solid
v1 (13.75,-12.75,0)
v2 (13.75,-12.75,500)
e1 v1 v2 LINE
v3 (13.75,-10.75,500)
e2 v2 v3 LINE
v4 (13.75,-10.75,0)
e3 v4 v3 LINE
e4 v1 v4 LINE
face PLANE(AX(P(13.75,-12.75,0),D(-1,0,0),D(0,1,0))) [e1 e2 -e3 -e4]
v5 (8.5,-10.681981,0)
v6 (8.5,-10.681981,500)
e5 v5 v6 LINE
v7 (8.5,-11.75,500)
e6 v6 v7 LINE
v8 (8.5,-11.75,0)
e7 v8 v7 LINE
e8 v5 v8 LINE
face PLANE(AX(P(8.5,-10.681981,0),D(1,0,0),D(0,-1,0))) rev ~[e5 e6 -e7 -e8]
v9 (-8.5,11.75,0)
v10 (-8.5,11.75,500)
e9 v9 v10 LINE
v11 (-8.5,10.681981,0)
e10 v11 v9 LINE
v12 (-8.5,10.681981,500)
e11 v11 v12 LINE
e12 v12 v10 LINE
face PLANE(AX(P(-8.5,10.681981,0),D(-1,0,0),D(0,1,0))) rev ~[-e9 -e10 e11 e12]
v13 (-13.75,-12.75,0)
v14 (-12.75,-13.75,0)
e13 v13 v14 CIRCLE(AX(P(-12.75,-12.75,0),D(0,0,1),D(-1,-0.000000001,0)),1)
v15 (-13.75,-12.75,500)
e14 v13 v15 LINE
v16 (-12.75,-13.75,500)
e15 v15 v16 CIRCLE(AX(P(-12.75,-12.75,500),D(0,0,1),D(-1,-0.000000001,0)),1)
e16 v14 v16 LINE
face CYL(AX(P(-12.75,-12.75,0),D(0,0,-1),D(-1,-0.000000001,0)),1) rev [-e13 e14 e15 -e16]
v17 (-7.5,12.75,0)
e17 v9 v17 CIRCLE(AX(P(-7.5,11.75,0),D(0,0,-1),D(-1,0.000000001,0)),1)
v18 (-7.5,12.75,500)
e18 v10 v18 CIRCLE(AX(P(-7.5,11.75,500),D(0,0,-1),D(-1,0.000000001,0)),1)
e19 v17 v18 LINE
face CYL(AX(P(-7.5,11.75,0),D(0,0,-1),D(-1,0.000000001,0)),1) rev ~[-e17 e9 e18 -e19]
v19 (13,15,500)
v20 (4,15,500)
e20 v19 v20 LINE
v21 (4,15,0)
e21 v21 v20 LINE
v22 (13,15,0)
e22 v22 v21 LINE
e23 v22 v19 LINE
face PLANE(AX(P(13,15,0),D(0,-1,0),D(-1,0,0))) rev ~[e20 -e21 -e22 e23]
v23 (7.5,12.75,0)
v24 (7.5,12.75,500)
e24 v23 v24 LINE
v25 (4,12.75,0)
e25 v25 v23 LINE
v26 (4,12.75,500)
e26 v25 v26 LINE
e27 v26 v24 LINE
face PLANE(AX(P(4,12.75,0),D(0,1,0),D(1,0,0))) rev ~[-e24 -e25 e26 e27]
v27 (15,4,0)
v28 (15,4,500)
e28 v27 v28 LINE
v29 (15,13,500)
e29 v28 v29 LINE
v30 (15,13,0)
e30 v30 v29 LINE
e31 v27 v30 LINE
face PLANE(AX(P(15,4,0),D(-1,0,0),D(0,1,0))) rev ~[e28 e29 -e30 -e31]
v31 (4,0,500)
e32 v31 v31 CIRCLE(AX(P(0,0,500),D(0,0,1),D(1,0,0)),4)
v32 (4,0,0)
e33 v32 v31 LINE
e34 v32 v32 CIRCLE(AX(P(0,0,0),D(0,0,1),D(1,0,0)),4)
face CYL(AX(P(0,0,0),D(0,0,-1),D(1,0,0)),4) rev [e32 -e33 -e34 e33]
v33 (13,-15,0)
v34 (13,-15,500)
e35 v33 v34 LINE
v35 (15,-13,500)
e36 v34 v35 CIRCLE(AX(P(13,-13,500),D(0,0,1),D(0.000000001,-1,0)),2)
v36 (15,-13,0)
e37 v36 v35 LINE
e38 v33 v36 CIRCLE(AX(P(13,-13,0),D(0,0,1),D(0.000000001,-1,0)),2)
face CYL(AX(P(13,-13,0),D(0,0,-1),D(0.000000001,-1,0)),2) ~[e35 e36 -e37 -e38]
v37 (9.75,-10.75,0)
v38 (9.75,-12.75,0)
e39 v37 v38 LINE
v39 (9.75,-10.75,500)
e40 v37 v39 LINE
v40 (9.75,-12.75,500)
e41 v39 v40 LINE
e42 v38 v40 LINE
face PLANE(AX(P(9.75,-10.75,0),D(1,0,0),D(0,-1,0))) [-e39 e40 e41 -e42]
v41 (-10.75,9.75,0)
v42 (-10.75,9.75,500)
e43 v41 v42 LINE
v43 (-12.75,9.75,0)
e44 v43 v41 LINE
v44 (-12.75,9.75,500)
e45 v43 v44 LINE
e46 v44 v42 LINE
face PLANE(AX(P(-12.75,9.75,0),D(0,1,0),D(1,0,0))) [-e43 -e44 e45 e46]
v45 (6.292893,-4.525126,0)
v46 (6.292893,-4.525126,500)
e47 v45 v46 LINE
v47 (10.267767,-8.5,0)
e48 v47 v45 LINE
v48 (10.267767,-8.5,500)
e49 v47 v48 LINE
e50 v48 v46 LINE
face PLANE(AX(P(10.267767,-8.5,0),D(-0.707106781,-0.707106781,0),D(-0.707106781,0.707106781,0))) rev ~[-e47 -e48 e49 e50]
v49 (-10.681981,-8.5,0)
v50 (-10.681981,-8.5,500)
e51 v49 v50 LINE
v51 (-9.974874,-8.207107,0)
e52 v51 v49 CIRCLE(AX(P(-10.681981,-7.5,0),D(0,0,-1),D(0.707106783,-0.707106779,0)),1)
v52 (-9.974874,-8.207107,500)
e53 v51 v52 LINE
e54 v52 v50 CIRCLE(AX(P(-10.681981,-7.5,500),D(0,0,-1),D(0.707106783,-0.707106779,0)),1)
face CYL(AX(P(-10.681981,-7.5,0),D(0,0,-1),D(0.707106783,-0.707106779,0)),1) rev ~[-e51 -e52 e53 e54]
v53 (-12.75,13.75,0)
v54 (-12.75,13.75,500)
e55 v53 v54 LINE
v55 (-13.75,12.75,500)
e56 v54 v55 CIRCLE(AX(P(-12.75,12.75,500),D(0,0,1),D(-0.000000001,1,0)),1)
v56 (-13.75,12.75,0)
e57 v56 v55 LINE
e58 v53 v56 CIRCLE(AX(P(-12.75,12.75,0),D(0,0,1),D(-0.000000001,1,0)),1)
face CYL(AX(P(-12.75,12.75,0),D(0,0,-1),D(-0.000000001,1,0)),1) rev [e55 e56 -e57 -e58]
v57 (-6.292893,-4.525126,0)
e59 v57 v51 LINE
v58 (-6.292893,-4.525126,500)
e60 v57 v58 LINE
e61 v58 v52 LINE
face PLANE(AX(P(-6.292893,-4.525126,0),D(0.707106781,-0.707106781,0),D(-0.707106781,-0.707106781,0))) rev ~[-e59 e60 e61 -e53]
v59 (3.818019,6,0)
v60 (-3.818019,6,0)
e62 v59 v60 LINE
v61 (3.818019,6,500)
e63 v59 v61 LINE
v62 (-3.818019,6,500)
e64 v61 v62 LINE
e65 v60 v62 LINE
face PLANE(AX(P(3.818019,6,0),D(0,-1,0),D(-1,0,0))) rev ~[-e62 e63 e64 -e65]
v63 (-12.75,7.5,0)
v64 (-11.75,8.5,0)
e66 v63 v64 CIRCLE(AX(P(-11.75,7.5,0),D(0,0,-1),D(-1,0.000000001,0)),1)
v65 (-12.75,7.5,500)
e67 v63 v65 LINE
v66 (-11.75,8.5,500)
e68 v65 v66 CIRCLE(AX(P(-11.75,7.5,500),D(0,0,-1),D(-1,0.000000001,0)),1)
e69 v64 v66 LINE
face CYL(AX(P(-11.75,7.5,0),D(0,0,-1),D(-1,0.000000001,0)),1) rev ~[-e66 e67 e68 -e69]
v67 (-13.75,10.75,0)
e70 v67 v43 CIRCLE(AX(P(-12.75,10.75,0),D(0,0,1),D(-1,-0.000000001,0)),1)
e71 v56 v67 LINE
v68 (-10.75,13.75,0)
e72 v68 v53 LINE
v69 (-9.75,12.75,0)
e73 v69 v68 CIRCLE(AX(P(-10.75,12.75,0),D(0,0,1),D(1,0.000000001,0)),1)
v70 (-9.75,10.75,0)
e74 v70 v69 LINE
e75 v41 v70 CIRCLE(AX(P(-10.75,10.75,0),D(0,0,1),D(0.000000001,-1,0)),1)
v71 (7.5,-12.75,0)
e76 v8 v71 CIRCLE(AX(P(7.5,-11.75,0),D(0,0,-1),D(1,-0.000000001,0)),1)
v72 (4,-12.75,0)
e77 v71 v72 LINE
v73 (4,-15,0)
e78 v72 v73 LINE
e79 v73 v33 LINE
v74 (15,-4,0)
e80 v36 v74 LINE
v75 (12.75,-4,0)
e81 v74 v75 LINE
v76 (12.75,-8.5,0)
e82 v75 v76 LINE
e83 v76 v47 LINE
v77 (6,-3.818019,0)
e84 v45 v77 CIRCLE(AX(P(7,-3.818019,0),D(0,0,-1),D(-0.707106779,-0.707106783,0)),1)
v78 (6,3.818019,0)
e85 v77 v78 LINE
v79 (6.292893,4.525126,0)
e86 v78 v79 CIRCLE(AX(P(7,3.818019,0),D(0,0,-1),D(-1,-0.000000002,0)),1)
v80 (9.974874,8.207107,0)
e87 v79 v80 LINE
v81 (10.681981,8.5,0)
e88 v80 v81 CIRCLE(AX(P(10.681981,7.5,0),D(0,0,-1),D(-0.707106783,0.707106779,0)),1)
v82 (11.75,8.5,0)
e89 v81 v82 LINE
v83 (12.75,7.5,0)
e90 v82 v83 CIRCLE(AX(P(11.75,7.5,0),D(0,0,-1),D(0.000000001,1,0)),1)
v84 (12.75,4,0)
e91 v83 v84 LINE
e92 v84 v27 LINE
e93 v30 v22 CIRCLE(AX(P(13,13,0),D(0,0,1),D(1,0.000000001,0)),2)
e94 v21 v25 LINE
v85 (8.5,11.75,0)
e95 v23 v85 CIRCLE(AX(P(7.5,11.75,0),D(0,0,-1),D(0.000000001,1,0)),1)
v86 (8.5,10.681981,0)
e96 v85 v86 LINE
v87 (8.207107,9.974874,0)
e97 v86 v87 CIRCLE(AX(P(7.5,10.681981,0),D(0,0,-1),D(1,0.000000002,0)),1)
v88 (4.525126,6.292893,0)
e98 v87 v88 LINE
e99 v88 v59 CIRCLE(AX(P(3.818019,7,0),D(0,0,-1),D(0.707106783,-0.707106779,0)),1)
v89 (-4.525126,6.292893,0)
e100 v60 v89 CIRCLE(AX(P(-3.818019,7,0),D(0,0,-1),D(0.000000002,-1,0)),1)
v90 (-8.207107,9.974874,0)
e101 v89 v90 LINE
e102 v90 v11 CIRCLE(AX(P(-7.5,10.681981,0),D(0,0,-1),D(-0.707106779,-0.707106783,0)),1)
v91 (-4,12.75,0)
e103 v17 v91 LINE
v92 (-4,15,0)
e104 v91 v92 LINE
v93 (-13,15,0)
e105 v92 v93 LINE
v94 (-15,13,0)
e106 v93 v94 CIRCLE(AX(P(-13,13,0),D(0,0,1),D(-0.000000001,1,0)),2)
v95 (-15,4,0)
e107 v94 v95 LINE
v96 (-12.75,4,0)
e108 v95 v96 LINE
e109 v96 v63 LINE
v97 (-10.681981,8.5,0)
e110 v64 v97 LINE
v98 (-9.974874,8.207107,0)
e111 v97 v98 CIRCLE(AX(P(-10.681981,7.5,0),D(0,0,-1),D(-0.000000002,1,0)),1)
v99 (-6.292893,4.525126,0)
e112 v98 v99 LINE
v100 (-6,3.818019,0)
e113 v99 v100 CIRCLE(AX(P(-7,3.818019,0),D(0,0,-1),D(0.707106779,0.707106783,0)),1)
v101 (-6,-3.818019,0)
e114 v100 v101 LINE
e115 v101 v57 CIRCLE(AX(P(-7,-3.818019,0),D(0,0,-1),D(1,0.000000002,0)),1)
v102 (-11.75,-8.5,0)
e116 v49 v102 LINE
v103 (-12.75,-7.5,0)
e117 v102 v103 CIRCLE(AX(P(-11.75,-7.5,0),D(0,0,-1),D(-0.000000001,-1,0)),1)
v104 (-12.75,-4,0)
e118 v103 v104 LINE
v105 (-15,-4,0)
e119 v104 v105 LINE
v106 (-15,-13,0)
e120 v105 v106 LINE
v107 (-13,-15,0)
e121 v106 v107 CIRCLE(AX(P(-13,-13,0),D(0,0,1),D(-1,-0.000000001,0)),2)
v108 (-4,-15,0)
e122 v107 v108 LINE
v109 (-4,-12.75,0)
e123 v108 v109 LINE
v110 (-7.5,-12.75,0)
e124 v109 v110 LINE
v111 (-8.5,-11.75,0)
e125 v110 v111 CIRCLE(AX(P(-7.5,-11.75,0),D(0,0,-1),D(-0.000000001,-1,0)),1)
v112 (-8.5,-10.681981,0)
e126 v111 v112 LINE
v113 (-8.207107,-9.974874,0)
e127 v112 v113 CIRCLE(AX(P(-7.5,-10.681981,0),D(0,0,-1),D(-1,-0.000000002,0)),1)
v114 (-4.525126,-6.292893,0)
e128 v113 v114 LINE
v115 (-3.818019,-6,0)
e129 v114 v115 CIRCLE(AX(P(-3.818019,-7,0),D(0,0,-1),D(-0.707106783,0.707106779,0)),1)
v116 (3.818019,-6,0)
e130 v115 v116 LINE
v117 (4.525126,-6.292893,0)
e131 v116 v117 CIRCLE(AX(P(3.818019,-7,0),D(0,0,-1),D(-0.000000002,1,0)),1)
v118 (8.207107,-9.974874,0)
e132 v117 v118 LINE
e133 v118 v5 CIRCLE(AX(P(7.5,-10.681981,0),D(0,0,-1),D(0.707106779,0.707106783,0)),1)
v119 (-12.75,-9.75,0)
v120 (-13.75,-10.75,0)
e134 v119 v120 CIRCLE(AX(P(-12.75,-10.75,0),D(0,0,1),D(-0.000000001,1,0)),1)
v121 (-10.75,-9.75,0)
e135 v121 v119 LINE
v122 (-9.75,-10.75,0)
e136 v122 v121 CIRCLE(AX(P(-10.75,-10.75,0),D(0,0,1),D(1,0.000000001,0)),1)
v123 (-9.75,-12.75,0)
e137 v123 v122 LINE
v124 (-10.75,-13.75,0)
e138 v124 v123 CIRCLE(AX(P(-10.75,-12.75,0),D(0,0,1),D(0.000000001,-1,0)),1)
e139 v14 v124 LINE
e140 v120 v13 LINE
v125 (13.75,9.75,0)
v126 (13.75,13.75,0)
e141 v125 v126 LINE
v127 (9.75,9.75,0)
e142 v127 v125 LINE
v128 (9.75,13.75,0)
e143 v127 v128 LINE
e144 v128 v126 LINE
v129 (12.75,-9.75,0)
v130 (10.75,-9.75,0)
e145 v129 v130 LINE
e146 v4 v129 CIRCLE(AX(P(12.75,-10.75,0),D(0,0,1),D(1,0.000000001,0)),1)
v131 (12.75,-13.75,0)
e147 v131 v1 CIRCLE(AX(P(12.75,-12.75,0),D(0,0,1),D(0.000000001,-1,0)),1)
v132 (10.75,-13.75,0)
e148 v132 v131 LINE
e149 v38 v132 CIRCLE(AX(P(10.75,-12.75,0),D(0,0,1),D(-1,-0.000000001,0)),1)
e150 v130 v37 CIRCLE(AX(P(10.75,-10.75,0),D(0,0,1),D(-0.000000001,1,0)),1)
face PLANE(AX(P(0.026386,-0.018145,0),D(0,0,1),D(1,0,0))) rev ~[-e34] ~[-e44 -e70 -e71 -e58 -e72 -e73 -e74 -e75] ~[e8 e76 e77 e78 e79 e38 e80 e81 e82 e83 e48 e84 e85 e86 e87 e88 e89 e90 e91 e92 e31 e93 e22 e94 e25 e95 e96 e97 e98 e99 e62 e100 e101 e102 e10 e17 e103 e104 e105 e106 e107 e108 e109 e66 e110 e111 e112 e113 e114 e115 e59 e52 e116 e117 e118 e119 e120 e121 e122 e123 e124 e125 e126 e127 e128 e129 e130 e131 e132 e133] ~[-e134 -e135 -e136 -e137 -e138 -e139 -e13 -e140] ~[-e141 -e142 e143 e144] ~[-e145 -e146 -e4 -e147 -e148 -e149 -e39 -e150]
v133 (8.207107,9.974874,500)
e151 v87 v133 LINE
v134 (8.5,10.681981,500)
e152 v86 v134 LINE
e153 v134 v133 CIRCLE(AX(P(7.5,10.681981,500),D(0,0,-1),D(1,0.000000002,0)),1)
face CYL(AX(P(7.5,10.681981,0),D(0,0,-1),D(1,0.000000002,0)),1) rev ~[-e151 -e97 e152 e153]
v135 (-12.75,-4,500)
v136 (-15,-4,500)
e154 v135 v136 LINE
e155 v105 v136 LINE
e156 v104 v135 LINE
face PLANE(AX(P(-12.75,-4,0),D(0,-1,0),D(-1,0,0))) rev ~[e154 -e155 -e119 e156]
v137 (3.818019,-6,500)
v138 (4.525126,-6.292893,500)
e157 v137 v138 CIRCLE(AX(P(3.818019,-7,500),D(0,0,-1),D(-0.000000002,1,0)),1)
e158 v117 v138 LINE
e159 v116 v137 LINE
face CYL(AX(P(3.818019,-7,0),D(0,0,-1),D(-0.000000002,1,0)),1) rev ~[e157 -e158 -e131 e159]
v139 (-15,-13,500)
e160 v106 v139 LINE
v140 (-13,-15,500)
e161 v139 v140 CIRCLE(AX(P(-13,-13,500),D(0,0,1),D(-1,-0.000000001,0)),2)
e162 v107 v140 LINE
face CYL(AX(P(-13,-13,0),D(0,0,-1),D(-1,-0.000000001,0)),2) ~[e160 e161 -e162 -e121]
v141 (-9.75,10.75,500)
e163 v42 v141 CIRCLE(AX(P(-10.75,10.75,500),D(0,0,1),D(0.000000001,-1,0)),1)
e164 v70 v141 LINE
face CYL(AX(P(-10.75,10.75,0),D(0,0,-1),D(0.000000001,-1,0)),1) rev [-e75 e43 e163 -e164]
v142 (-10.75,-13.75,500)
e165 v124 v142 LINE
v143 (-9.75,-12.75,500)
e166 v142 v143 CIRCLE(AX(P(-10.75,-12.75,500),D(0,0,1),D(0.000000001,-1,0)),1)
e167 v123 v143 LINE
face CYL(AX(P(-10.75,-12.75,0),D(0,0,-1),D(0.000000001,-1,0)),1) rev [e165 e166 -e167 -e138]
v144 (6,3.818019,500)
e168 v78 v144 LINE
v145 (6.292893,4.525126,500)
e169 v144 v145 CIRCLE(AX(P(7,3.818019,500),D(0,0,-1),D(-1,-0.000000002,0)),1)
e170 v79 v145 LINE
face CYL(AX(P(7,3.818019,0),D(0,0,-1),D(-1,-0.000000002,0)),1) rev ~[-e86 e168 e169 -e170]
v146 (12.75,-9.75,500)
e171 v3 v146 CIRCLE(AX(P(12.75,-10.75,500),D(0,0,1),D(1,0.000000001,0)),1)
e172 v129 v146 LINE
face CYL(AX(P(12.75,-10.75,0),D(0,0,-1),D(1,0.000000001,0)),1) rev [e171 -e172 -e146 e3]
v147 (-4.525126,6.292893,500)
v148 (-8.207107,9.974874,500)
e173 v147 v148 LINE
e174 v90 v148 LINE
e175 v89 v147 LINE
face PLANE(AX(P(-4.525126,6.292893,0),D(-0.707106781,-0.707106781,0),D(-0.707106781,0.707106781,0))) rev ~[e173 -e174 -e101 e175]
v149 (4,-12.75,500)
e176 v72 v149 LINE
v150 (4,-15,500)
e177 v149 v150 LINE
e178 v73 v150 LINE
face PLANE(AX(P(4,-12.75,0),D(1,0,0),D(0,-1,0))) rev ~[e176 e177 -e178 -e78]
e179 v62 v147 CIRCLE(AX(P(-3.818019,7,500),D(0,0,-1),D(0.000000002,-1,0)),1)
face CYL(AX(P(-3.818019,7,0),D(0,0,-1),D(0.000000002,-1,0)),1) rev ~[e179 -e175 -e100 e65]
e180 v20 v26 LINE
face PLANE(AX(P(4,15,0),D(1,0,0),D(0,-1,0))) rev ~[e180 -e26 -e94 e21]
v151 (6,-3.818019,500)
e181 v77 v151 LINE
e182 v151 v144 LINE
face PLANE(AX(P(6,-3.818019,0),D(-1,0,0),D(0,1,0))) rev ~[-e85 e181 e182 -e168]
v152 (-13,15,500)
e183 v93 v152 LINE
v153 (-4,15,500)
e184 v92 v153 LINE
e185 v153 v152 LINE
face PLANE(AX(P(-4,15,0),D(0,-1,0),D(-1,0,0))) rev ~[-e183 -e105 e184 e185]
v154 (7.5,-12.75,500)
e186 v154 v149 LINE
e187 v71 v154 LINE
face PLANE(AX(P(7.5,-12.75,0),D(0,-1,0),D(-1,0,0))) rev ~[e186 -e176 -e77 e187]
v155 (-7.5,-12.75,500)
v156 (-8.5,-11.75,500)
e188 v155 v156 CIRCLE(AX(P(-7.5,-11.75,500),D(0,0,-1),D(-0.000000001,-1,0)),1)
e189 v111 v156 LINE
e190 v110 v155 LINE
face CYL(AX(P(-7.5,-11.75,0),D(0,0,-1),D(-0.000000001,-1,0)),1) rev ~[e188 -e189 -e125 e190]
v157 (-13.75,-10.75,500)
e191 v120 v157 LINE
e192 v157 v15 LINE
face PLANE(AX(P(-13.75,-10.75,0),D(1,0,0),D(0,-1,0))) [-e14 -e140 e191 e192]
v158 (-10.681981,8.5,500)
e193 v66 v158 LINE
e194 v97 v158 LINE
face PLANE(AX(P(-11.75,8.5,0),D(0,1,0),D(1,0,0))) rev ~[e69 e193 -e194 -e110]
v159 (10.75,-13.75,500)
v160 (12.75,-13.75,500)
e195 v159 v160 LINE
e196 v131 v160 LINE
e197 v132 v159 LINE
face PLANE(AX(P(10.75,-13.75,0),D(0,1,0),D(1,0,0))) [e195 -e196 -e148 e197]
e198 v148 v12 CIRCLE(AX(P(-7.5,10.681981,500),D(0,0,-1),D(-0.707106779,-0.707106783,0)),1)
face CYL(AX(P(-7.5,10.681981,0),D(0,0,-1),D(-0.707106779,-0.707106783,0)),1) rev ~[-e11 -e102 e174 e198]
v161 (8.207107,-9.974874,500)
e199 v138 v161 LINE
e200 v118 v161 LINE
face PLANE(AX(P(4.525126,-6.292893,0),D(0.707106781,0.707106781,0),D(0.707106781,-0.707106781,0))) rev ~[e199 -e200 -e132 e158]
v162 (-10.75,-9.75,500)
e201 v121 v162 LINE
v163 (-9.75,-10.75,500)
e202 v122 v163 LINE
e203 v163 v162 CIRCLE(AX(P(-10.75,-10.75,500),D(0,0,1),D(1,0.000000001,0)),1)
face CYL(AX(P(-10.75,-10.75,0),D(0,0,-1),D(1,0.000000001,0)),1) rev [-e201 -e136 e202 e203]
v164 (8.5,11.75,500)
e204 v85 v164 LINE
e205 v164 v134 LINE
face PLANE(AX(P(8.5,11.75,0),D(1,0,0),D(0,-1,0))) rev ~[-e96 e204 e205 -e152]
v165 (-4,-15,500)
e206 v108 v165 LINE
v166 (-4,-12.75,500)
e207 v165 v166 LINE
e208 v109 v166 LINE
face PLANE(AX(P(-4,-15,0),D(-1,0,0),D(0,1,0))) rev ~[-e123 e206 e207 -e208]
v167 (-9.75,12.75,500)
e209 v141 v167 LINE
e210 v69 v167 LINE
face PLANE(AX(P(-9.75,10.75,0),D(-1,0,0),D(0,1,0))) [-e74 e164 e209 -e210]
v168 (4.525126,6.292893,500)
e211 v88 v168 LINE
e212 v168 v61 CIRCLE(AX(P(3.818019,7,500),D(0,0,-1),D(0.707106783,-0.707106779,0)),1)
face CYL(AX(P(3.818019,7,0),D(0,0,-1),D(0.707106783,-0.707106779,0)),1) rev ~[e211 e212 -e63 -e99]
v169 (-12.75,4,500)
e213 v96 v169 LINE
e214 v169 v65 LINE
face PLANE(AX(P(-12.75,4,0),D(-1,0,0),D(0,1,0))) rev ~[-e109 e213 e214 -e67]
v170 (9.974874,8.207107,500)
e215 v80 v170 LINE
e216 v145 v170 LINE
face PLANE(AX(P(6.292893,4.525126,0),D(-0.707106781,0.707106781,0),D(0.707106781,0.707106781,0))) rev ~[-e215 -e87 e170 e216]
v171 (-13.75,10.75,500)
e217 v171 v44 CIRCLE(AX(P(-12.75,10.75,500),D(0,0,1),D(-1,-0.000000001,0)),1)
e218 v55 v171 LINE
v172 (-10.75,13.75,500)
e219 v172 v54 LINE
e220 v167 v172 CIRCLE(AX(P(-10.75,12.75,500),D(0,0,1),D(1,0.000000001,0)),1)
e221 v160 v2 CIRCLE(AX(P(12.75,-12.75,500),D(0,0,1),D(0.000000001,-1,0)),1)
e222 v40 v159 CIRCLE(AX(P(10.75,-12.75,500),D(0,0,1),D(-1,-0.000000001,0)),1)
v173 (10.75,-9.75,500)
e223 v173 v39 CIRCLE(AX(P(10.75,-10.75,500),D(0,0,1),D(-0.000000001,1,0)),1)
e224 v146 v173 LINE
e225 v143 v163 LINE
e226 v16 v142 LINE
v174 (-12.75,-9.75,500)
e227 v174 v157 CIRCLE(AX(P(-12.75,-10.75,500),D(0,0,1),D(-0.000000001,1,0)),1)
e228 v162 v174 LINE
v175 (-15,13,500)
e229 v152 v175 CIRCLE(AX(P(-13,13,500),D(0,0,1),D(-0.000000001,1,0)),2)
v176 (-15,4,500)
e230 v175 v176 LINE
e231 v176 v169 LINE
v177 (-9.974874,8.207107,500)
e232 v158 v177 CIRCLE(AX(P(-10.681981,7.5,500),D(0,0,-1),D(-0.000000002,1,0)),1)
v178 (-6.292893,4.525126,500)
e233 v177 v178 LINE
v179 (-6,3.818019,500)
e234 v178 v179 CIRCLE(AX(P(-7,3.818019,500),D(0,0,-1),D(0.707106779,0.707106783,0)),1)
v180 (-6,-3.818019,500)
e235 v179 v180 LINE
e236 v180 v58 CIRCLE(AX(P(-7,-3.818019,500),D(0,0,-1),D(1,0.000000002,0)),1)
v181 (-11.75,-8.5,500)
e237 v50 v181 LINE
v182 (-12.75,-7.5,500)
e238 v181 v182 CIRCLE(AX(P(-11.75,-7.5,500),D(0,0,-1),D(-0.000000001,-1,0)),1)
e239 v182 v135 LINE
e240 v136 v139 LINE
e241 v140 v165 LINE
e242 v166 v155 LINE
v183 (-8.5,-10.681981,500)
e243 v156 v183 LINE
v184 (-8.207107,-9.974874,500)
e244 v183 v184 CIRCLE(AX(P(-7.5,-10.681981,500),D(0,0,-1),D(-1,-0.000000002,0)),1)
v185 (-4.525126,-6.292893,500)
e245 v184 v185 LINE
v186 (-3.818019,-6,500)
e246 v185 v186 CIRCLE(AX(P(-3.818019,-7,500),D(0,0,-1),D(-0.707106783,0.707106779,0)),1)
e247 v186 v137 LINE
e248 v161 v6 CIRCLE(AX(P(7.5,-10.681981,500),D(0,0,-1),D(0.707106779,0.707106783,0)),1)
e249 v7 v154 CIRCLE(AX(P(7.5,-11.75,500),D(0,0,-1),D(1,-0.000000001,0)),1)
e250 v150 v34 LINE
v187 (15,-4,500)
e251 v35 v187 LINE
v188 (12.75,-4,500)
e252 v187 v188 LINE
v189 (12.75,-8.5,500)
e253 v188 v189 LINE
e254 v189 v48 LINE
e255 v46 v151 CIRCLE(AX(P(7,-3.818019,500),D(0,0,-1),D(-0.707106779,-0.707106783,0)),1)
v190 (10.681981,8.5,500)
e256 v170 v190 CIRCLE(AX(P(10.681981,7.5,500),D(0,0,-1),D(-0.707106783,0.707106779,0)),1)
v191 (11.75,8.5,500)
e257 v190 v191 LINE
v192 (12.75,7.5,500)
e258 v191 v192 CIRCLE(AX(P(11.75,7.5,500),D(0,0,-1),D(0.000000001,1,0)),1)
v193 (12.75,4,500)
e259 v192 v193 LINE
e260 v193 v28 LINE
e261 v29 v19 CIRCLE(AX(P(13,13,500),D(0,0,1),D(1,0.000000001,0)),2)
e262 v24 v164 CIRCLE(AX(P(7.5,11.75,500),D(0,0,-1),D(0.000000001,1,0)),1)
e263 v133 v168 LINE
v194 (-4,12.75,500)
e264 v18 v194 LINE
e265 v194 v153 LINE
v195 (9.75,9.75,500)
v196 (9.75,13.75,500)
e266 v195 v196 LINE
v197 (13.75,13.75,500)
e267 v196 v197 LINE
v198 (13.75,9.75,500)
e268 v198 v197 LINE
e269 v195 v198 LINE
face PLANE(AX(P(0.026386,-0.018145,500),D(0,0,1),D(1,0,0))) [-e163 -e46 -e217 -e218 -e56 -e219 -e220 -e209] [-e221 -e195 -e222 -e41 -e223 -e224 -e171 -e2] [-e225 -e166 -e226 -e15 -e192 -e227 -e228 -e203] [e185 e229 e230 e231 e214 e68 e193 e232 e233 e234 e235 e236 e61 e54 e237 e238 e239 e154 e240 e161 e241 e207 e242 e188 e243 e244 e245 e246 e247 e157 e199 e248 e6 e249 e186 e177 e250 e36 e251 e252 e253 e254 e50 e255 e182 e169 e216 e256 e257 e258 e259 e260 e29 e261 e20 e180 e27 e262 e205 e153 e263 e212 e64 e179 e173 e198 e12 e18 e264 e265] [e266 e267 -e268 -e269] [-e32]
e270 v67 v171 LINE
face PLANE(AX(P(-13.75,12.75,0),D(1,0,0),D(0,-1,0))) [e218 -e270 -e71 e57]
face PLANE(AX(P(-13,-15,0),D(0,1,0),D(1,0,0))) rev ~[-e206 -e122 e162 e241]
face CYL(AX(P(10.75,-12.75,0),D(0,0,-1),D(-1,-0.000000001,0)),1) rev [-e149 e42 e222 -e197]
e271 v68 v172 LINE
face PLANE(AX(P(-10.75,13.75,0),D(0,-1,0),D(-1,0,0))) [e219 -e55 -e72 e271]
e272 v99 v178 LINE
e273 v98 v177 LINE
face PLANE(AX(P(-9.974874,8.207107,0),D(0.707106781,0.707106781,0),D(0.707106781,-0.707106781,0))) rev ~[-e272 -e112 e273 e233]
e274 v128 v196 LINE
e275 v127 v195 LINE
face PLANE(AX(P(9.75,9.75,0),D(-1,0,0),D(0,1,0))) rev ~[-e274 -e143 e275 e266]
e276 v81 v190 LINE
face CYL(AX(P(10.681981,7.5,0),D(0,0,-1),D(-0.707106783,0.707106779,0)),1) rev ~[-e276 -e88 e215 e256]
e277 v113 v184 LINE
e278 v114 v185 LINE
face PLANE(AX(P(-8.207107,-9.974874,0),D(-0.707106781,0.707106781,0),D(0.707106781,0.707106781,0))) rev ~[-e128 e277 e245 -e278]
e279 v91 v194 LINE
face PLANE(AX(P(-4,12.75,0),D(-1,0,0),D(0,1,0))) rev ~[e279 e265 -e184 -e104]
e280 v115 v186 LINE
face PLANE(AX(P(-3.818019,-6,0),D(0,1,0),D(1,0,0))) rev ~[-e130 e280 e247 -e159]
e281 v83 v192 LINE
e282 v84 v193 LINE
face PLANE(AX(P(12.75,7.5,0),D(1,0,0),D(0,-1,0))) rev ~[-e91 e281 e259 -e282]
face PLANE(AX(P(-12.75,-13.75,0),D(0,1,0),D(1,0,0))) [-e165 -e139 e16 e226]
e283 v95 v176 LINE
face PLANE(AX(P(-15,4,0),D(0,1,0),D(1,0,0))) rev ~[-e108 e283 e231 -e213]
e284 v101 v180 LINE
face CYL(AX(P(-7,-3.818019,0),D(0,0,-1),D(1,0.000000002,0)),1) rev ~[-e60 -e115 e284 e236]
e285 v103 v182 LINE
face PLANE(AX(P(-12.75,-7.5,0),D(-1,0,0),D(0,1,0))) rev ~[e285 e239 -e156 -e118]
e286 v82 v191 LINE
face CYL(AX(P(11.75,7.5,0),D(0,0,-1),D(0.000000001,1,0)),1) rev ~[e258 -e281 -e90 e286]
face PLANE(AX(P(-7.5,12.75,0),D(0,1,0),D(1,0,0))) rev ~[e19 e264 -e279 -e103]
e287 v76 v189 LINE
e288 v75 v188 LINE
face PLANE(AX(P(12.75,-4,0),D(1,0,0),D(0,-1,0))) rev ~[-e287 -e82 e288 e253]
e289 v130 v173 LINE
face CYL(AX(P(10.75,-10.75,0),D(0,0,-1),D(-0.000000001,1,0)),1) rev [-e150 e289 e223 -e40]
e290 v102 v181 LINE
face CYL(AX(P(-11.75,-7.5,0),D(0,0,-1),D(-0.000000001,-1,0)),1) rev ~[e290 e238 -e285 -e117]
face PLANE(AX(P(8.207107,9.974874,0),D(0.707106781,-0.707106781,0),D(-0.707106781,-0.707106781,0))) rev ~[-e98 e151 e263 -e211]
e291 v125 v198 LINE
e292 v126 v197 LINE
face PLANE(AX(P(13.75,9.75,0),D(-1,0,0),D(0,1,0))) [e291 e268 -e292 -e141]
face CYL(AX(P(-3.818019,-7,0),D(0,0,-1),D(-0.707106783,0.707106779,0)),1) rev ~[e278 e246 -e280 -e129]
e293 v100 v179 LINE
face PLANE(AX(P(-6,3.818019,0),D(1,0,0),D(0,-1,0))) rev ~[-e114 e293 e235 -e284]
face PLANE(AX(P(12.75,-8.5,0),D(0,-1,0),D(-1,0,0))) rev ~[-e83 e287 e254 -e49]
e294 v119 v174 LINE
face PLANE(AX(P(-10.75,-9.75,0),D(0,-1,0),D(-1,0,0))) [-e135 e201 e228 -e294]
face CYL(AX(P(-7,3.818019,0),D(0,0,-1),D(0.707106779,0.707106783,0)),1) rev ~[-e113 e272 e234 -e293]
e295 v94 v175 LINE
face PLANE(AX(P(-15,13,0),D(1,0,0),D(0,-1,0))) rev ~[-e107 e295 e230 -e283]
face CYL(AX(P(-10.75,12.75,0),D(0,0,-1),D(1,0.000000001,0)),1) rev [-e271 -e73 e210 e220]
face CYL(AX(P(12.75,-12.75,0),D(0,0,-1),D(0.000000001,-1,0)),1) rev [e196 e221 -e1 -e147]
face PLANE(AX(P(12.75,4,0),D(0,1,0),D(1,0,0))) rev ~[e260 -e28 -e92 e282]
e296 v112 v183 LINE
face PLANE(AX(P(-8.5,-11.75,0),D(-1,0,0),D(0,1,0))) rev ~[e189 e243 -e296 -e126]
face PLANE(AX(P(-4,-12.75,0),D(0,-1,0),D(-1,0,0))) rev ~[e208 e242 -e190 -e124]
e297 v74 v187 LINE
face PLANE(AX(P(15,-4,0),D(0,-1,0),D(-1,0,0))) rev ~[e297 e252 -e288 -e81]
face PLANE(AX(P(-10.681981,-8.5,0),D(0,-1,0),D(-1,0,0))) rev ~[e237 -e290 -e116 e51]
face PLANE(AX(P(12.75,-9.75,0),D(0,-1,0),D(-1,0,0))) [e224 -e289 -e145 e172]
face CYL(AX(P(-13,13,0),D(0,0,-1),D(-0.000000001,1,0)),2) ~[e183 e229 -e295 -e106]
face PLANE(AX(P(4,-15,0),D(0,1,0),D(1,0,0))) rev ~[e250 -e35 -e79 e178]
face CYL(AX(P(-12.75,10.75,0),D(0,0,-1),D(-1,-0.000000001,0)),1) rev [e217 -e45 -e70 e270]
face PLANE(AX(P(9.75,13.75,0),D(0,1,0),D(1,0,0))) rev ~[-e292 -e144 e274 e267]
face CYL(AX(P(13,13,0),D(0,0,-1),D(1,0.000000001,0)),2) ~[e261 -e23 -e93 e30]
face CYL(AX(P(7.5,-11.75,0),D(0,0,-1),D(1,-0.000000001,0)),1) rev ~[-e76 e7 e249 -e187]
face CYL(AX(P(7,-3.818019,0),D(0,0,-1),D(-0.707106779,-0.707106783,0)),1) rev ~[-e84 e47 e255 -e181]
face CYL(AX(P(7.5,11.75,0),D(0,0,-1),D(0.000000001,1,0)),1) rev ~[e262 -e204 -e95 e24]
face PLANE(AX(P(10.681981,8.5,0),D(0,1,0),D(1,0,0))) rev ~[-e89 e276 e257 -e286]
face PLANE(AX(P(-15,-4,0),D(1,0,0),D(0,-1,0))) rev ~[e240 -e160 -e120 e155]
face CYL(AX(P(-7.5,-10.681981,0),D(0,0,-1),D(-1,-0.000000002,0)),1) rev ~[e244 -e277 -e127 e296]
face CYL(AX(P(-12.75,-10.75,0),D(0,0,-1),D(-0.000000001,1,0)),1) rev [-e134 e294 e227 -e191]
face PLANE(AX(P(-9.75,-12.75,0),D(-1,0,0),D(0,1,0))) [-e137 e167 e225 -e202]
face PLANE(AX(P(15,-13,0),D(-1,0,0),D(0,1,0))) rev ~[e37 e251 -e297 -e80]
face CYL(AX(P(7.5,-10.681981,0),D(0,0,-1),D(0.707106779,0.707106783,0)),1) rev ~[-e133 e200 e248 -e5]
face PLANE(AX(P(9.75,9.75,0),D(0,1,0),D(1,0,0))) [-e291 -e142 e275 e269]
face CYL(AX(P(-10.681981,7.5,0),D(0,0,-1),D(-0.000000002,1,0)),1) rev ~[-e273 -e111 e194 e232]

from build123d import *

# Parameters (mm, degrees)
SKETCH1_R           = 4
SKETCH1_W           = 4
SKETCH1_H           = 4
BOSS_EXTRUDE1_DEPTH = 500


with BuildPart() as part:
    # Sketch1 → Boss-Extrude1 (new body)
    with BuildSketch(Plane.XY):
        with BuildLine():
            Line((-15, -4), (-15, -13))
            ThreePointArc((-15, -13), (-14.414213562, -14.414213562), (-13, -15))
            Line((-13, -15), (-4, -15))
            Line((-4, -15), (-4, -12.75))
            Line((-4, -12.75), (-7.5, -12.75))
            ThreePointArc((-7.5, -12.75), (-8.207106781, -12.457106781), (-8.5, -11.75))
            Line((-8.5, -11.75), (-8.5, -10.681980515))
            ThreePointArc((-8.5, -10.681980515), (-8.423879533, -10.299297083), (-8.207106781, -9.974873734))
            Line((-8.207106781, -9.974873734), (-4.525126266, -6.292893219))
            ThreePointArc((-4.525126266, -6.292893219), (-4.200702917, -6.076120467), (-3.818019485, -6))
            Line((-3.818019485, -6), (3.818019485, -6))
            ThreePointArc((3.818019485, -6), (4.200702917, -6.076120467), (4.525126266, -6.292893219))
            Line((4.525126266, -6.292893219), (8.207106781, -9.974873734))
            ThreePointArc((8.207106781, -9.974873734), (8.423879533, -10.299297083), (8.5, -10.681980515))
            Line((8.5, -10.681980515), (8.5, -11.75))
            ThreePointArc((8.5, -11.75), (8.207106781, -12.457106781), (7.5, -12.75))
            Line((7.5, -12.75), (4, -12.75))
            Line((4, -12.75), (4, -15))
            Line((4, -15), (13, -15))
            ThreePointArc((13, -15), (14.414213562, -14.414213562), (15, -13))
            Line((15, -13), (15, -4))
            Line((15, -4), (12.75, -4))
            Line((12.75, -4), (12.75, -8.5))
            Line((12.75, -8.5), (10.267766953, -8.5))
            Line((10.267766953, -8.5), (6.292893219, -4.525126266))
            ThreePointArc((6.292893219, -4.525126266), (6.076120467, -4.200702917), (6, -3.818019485))
            Line((6, -3.818019485), (6, 3.818019485))
            ThreePointArc((6, 3.818019485), (6.076120467, 4.200702917), (6.292893219, 4.525126266))
            Line((6.292893219, 4.525126266), (9.974873734, 8.207106781))
            ThreePointArc((9.974873734, 8.207106781), (10.299297083, 8.423879533), (10.681980515, 8.5))
            Line((10.681980515, 8.5), (11.75, 8.5))
            ThreePointArc((11.75, 8.5), (12.457106781, 8.207106781), (12.75, 7.5))
            Line((12.75, 7.5), (12.75, 4))
            Line((12.75, 4), (15, 4))
            Line((15, 4), (15, 13))
            ThreePointArc((15, 13), (14.414213562, 14.414213562), (13, 15))
            Line((13, 15), (4, 15))
            Line((4, 15), (4, 12.75))
            Line((4, 12.75), (7.5, 12.75))
            ThreePointArc((7.5, 12.75), (8.207106781, 12.457106781), (8.5, 11.75))
            Line((8.5, 11.75), (8.5, 10.681980515))
            ThreePointArc((8.5, 10.681980515), (8.423879533, 10.299297083), (8.207106781, 9.974873734))
            Line((8.207106781, 9.974873734), (4.525126266, 6.292893219))
            ThreePointArc((4.525126266, 6.292893219), (4.200702917, 6.076120467), (3.818019485, 6))
            Line((3.818019485, 6), (-3.818019485, 6))
            ThreePointArc((-3.818019485, 6), (-4.200702917, 6.076120467), (-4.525126266, 6.292893219))
            Line((-4.525126266, 6.292893219), (-8.207106781, 9.974873734))
            ThreePointArc((-8.207106781, 9.974873734), (-8.423879533, 10.299297083), (-8.5, 10.681980515))
            Line((-8.5, 10.681980515), (-8.5, 11.75))
            ThreePointArc((-8.5, 11.75), (-8.207106781, 12.457106781), (-7.5, 12.75))
            Line((-7.5, 12.75), (-4, 12.75))
            Line((-4, 12.75), (-4, 15))
            Line((-4, 15), (-13, 15))
            ThreePointArc((-13, 15), (-14.414213562, 14.414213562), (-15, 13))
            Line((-15, 13), (-15, 4))
            Line((-15, 4), (-12.75, 4))
            Line((-12.75, 4), (-12.75, 7.5))
            ThreePointArc((-12.75, 7.5), (-12.457106781, 8.207106781), (-11.75, 8.5))
            Line((-11.75, 8.5), (-10.681980515, 8.5))
            ThreePointArc((-10.681980515, 8.5), (-10.299297083, 8.423879533), (-9.974873734, 8.207106781))
            Line((-9.974873734, 8.207106781), (-6.292893219, 4.525126266))
            ThreePointArc((-6.292893219, 4.525126266), (-6.076120467, 4.200702917), (-6, 3.818019485))
            Line((-6, 3.818019485), (-6, -3.818019485))
            ThreePointArc((-6, -3.818019485), (-6.076120467, -4.200702917), (-6.292893219, -4.525126266))
            Line((-6.292893219, -4.525126266), (-9.974873734, -8.207106781))
            ThreePointArc((-9.974873734, -8.207106781), (-10.299297083, -8.423879533), (-10.681980515, -8.5))
            Line((-10.681980515, -8.5), (-11.75, -8.5))
            ThreePointArc((-11.75, -8.5), (-12.457106781, -8.207106781), (-12.75, -7.5))
            Line((-12.75, -7.5), (-12.75, -4))
            Line((-12.75, -4), (-15, -4))
        make_face()
        Circle(SKETCH1_R, mode=Mode.SUBTRACT)
        with BuildLine():
            Line((9.75, -10.75), (9.75, -12.75))
            ThreePointArc((9.75, -12.75), (10.042893219, -13.457106781), (10.75, -13.75))
            Line((10.75, -13.75), (12.75, -13.75))
            ThreePointArc((12.75, -13.75), (13.457106781, -13.457106781), (13.75, -12.75))
            Line((13.75, -12.75), (13.75, -10.75))
            ThreePointArc((13.75, -10.75), (13.457106781, -10.042893219), (12.75, -9.75))
            Line((12.75, -9.75), (10.75, -9.75))
            ThreePointArc((10.75, -9.75), (10.042893219, -10.042893219), (9.75, -10.75))
        make_face(mode=Mode.SUBTRACT)
        with Locations((11.75, 11.75)):
            Rectangle(SKETCH1_W, SKETCH1_H, mode=Mode.SUBTRACT)
        with BuildLine():
            Line((-10.75, 13.75), (-12.75, 13.75))
            ThreePointArc((-12.75, 13.75), (-13.457106781, 13.457106781), (-13.75, 12.75))
            Line((-13.75, 12.75), (-13.75, 10.75))
            ThreePointArc((-13.75, 10.75), (-13.457106781, 10.042893219), (-12.75, 9.75))
            Line((-12.75, 9.75), (-10.75, 9.75))
            ThreePointArc((-10.75, 9.75), (-10.042893219, 10.042893219), (-9.75, 10.75))
            Line((-9.75, 10.75), (-9.75, 12.75))
            ThreePointArc((-9.75, 12.75), (-10.042893219, 13.457106781), (-10.75, 13.75))
        make_face(mode=Mode.SUBTRACT)
        with BuildLine():
            Line((-12.75, -13.75), (-10.75, -13.75))
            ThreePointArc((-10.75, -13.75), (-10.042893219, -13.457106781), (-9.75, -12.75))
            Line((-9.75, -12.75), (-9.75, -10.75))
            ThreePointArc((-9.75, -10.75), (-10.042893219, -10.042893219), (-10.75, -9.75))
            Line((-10.75, -9.75), (-12.75, -9.75))
            ThreePointArc((-12.75, -9.75), (-13.457106781, -10.042893219), (-13.75, -10.75))
            Line((-13.75, -10.75), (-13.75, -12.75))
            ThreePointArc((-13.75, -12.75), (-13.457106781, -13.457106781), (-12.75, -13.75))
        make_face(mode=Mode.SUBTRACT)
    extrude(amount=BOSS_EXTRUDE1_DEPTH)


solid = part.part
